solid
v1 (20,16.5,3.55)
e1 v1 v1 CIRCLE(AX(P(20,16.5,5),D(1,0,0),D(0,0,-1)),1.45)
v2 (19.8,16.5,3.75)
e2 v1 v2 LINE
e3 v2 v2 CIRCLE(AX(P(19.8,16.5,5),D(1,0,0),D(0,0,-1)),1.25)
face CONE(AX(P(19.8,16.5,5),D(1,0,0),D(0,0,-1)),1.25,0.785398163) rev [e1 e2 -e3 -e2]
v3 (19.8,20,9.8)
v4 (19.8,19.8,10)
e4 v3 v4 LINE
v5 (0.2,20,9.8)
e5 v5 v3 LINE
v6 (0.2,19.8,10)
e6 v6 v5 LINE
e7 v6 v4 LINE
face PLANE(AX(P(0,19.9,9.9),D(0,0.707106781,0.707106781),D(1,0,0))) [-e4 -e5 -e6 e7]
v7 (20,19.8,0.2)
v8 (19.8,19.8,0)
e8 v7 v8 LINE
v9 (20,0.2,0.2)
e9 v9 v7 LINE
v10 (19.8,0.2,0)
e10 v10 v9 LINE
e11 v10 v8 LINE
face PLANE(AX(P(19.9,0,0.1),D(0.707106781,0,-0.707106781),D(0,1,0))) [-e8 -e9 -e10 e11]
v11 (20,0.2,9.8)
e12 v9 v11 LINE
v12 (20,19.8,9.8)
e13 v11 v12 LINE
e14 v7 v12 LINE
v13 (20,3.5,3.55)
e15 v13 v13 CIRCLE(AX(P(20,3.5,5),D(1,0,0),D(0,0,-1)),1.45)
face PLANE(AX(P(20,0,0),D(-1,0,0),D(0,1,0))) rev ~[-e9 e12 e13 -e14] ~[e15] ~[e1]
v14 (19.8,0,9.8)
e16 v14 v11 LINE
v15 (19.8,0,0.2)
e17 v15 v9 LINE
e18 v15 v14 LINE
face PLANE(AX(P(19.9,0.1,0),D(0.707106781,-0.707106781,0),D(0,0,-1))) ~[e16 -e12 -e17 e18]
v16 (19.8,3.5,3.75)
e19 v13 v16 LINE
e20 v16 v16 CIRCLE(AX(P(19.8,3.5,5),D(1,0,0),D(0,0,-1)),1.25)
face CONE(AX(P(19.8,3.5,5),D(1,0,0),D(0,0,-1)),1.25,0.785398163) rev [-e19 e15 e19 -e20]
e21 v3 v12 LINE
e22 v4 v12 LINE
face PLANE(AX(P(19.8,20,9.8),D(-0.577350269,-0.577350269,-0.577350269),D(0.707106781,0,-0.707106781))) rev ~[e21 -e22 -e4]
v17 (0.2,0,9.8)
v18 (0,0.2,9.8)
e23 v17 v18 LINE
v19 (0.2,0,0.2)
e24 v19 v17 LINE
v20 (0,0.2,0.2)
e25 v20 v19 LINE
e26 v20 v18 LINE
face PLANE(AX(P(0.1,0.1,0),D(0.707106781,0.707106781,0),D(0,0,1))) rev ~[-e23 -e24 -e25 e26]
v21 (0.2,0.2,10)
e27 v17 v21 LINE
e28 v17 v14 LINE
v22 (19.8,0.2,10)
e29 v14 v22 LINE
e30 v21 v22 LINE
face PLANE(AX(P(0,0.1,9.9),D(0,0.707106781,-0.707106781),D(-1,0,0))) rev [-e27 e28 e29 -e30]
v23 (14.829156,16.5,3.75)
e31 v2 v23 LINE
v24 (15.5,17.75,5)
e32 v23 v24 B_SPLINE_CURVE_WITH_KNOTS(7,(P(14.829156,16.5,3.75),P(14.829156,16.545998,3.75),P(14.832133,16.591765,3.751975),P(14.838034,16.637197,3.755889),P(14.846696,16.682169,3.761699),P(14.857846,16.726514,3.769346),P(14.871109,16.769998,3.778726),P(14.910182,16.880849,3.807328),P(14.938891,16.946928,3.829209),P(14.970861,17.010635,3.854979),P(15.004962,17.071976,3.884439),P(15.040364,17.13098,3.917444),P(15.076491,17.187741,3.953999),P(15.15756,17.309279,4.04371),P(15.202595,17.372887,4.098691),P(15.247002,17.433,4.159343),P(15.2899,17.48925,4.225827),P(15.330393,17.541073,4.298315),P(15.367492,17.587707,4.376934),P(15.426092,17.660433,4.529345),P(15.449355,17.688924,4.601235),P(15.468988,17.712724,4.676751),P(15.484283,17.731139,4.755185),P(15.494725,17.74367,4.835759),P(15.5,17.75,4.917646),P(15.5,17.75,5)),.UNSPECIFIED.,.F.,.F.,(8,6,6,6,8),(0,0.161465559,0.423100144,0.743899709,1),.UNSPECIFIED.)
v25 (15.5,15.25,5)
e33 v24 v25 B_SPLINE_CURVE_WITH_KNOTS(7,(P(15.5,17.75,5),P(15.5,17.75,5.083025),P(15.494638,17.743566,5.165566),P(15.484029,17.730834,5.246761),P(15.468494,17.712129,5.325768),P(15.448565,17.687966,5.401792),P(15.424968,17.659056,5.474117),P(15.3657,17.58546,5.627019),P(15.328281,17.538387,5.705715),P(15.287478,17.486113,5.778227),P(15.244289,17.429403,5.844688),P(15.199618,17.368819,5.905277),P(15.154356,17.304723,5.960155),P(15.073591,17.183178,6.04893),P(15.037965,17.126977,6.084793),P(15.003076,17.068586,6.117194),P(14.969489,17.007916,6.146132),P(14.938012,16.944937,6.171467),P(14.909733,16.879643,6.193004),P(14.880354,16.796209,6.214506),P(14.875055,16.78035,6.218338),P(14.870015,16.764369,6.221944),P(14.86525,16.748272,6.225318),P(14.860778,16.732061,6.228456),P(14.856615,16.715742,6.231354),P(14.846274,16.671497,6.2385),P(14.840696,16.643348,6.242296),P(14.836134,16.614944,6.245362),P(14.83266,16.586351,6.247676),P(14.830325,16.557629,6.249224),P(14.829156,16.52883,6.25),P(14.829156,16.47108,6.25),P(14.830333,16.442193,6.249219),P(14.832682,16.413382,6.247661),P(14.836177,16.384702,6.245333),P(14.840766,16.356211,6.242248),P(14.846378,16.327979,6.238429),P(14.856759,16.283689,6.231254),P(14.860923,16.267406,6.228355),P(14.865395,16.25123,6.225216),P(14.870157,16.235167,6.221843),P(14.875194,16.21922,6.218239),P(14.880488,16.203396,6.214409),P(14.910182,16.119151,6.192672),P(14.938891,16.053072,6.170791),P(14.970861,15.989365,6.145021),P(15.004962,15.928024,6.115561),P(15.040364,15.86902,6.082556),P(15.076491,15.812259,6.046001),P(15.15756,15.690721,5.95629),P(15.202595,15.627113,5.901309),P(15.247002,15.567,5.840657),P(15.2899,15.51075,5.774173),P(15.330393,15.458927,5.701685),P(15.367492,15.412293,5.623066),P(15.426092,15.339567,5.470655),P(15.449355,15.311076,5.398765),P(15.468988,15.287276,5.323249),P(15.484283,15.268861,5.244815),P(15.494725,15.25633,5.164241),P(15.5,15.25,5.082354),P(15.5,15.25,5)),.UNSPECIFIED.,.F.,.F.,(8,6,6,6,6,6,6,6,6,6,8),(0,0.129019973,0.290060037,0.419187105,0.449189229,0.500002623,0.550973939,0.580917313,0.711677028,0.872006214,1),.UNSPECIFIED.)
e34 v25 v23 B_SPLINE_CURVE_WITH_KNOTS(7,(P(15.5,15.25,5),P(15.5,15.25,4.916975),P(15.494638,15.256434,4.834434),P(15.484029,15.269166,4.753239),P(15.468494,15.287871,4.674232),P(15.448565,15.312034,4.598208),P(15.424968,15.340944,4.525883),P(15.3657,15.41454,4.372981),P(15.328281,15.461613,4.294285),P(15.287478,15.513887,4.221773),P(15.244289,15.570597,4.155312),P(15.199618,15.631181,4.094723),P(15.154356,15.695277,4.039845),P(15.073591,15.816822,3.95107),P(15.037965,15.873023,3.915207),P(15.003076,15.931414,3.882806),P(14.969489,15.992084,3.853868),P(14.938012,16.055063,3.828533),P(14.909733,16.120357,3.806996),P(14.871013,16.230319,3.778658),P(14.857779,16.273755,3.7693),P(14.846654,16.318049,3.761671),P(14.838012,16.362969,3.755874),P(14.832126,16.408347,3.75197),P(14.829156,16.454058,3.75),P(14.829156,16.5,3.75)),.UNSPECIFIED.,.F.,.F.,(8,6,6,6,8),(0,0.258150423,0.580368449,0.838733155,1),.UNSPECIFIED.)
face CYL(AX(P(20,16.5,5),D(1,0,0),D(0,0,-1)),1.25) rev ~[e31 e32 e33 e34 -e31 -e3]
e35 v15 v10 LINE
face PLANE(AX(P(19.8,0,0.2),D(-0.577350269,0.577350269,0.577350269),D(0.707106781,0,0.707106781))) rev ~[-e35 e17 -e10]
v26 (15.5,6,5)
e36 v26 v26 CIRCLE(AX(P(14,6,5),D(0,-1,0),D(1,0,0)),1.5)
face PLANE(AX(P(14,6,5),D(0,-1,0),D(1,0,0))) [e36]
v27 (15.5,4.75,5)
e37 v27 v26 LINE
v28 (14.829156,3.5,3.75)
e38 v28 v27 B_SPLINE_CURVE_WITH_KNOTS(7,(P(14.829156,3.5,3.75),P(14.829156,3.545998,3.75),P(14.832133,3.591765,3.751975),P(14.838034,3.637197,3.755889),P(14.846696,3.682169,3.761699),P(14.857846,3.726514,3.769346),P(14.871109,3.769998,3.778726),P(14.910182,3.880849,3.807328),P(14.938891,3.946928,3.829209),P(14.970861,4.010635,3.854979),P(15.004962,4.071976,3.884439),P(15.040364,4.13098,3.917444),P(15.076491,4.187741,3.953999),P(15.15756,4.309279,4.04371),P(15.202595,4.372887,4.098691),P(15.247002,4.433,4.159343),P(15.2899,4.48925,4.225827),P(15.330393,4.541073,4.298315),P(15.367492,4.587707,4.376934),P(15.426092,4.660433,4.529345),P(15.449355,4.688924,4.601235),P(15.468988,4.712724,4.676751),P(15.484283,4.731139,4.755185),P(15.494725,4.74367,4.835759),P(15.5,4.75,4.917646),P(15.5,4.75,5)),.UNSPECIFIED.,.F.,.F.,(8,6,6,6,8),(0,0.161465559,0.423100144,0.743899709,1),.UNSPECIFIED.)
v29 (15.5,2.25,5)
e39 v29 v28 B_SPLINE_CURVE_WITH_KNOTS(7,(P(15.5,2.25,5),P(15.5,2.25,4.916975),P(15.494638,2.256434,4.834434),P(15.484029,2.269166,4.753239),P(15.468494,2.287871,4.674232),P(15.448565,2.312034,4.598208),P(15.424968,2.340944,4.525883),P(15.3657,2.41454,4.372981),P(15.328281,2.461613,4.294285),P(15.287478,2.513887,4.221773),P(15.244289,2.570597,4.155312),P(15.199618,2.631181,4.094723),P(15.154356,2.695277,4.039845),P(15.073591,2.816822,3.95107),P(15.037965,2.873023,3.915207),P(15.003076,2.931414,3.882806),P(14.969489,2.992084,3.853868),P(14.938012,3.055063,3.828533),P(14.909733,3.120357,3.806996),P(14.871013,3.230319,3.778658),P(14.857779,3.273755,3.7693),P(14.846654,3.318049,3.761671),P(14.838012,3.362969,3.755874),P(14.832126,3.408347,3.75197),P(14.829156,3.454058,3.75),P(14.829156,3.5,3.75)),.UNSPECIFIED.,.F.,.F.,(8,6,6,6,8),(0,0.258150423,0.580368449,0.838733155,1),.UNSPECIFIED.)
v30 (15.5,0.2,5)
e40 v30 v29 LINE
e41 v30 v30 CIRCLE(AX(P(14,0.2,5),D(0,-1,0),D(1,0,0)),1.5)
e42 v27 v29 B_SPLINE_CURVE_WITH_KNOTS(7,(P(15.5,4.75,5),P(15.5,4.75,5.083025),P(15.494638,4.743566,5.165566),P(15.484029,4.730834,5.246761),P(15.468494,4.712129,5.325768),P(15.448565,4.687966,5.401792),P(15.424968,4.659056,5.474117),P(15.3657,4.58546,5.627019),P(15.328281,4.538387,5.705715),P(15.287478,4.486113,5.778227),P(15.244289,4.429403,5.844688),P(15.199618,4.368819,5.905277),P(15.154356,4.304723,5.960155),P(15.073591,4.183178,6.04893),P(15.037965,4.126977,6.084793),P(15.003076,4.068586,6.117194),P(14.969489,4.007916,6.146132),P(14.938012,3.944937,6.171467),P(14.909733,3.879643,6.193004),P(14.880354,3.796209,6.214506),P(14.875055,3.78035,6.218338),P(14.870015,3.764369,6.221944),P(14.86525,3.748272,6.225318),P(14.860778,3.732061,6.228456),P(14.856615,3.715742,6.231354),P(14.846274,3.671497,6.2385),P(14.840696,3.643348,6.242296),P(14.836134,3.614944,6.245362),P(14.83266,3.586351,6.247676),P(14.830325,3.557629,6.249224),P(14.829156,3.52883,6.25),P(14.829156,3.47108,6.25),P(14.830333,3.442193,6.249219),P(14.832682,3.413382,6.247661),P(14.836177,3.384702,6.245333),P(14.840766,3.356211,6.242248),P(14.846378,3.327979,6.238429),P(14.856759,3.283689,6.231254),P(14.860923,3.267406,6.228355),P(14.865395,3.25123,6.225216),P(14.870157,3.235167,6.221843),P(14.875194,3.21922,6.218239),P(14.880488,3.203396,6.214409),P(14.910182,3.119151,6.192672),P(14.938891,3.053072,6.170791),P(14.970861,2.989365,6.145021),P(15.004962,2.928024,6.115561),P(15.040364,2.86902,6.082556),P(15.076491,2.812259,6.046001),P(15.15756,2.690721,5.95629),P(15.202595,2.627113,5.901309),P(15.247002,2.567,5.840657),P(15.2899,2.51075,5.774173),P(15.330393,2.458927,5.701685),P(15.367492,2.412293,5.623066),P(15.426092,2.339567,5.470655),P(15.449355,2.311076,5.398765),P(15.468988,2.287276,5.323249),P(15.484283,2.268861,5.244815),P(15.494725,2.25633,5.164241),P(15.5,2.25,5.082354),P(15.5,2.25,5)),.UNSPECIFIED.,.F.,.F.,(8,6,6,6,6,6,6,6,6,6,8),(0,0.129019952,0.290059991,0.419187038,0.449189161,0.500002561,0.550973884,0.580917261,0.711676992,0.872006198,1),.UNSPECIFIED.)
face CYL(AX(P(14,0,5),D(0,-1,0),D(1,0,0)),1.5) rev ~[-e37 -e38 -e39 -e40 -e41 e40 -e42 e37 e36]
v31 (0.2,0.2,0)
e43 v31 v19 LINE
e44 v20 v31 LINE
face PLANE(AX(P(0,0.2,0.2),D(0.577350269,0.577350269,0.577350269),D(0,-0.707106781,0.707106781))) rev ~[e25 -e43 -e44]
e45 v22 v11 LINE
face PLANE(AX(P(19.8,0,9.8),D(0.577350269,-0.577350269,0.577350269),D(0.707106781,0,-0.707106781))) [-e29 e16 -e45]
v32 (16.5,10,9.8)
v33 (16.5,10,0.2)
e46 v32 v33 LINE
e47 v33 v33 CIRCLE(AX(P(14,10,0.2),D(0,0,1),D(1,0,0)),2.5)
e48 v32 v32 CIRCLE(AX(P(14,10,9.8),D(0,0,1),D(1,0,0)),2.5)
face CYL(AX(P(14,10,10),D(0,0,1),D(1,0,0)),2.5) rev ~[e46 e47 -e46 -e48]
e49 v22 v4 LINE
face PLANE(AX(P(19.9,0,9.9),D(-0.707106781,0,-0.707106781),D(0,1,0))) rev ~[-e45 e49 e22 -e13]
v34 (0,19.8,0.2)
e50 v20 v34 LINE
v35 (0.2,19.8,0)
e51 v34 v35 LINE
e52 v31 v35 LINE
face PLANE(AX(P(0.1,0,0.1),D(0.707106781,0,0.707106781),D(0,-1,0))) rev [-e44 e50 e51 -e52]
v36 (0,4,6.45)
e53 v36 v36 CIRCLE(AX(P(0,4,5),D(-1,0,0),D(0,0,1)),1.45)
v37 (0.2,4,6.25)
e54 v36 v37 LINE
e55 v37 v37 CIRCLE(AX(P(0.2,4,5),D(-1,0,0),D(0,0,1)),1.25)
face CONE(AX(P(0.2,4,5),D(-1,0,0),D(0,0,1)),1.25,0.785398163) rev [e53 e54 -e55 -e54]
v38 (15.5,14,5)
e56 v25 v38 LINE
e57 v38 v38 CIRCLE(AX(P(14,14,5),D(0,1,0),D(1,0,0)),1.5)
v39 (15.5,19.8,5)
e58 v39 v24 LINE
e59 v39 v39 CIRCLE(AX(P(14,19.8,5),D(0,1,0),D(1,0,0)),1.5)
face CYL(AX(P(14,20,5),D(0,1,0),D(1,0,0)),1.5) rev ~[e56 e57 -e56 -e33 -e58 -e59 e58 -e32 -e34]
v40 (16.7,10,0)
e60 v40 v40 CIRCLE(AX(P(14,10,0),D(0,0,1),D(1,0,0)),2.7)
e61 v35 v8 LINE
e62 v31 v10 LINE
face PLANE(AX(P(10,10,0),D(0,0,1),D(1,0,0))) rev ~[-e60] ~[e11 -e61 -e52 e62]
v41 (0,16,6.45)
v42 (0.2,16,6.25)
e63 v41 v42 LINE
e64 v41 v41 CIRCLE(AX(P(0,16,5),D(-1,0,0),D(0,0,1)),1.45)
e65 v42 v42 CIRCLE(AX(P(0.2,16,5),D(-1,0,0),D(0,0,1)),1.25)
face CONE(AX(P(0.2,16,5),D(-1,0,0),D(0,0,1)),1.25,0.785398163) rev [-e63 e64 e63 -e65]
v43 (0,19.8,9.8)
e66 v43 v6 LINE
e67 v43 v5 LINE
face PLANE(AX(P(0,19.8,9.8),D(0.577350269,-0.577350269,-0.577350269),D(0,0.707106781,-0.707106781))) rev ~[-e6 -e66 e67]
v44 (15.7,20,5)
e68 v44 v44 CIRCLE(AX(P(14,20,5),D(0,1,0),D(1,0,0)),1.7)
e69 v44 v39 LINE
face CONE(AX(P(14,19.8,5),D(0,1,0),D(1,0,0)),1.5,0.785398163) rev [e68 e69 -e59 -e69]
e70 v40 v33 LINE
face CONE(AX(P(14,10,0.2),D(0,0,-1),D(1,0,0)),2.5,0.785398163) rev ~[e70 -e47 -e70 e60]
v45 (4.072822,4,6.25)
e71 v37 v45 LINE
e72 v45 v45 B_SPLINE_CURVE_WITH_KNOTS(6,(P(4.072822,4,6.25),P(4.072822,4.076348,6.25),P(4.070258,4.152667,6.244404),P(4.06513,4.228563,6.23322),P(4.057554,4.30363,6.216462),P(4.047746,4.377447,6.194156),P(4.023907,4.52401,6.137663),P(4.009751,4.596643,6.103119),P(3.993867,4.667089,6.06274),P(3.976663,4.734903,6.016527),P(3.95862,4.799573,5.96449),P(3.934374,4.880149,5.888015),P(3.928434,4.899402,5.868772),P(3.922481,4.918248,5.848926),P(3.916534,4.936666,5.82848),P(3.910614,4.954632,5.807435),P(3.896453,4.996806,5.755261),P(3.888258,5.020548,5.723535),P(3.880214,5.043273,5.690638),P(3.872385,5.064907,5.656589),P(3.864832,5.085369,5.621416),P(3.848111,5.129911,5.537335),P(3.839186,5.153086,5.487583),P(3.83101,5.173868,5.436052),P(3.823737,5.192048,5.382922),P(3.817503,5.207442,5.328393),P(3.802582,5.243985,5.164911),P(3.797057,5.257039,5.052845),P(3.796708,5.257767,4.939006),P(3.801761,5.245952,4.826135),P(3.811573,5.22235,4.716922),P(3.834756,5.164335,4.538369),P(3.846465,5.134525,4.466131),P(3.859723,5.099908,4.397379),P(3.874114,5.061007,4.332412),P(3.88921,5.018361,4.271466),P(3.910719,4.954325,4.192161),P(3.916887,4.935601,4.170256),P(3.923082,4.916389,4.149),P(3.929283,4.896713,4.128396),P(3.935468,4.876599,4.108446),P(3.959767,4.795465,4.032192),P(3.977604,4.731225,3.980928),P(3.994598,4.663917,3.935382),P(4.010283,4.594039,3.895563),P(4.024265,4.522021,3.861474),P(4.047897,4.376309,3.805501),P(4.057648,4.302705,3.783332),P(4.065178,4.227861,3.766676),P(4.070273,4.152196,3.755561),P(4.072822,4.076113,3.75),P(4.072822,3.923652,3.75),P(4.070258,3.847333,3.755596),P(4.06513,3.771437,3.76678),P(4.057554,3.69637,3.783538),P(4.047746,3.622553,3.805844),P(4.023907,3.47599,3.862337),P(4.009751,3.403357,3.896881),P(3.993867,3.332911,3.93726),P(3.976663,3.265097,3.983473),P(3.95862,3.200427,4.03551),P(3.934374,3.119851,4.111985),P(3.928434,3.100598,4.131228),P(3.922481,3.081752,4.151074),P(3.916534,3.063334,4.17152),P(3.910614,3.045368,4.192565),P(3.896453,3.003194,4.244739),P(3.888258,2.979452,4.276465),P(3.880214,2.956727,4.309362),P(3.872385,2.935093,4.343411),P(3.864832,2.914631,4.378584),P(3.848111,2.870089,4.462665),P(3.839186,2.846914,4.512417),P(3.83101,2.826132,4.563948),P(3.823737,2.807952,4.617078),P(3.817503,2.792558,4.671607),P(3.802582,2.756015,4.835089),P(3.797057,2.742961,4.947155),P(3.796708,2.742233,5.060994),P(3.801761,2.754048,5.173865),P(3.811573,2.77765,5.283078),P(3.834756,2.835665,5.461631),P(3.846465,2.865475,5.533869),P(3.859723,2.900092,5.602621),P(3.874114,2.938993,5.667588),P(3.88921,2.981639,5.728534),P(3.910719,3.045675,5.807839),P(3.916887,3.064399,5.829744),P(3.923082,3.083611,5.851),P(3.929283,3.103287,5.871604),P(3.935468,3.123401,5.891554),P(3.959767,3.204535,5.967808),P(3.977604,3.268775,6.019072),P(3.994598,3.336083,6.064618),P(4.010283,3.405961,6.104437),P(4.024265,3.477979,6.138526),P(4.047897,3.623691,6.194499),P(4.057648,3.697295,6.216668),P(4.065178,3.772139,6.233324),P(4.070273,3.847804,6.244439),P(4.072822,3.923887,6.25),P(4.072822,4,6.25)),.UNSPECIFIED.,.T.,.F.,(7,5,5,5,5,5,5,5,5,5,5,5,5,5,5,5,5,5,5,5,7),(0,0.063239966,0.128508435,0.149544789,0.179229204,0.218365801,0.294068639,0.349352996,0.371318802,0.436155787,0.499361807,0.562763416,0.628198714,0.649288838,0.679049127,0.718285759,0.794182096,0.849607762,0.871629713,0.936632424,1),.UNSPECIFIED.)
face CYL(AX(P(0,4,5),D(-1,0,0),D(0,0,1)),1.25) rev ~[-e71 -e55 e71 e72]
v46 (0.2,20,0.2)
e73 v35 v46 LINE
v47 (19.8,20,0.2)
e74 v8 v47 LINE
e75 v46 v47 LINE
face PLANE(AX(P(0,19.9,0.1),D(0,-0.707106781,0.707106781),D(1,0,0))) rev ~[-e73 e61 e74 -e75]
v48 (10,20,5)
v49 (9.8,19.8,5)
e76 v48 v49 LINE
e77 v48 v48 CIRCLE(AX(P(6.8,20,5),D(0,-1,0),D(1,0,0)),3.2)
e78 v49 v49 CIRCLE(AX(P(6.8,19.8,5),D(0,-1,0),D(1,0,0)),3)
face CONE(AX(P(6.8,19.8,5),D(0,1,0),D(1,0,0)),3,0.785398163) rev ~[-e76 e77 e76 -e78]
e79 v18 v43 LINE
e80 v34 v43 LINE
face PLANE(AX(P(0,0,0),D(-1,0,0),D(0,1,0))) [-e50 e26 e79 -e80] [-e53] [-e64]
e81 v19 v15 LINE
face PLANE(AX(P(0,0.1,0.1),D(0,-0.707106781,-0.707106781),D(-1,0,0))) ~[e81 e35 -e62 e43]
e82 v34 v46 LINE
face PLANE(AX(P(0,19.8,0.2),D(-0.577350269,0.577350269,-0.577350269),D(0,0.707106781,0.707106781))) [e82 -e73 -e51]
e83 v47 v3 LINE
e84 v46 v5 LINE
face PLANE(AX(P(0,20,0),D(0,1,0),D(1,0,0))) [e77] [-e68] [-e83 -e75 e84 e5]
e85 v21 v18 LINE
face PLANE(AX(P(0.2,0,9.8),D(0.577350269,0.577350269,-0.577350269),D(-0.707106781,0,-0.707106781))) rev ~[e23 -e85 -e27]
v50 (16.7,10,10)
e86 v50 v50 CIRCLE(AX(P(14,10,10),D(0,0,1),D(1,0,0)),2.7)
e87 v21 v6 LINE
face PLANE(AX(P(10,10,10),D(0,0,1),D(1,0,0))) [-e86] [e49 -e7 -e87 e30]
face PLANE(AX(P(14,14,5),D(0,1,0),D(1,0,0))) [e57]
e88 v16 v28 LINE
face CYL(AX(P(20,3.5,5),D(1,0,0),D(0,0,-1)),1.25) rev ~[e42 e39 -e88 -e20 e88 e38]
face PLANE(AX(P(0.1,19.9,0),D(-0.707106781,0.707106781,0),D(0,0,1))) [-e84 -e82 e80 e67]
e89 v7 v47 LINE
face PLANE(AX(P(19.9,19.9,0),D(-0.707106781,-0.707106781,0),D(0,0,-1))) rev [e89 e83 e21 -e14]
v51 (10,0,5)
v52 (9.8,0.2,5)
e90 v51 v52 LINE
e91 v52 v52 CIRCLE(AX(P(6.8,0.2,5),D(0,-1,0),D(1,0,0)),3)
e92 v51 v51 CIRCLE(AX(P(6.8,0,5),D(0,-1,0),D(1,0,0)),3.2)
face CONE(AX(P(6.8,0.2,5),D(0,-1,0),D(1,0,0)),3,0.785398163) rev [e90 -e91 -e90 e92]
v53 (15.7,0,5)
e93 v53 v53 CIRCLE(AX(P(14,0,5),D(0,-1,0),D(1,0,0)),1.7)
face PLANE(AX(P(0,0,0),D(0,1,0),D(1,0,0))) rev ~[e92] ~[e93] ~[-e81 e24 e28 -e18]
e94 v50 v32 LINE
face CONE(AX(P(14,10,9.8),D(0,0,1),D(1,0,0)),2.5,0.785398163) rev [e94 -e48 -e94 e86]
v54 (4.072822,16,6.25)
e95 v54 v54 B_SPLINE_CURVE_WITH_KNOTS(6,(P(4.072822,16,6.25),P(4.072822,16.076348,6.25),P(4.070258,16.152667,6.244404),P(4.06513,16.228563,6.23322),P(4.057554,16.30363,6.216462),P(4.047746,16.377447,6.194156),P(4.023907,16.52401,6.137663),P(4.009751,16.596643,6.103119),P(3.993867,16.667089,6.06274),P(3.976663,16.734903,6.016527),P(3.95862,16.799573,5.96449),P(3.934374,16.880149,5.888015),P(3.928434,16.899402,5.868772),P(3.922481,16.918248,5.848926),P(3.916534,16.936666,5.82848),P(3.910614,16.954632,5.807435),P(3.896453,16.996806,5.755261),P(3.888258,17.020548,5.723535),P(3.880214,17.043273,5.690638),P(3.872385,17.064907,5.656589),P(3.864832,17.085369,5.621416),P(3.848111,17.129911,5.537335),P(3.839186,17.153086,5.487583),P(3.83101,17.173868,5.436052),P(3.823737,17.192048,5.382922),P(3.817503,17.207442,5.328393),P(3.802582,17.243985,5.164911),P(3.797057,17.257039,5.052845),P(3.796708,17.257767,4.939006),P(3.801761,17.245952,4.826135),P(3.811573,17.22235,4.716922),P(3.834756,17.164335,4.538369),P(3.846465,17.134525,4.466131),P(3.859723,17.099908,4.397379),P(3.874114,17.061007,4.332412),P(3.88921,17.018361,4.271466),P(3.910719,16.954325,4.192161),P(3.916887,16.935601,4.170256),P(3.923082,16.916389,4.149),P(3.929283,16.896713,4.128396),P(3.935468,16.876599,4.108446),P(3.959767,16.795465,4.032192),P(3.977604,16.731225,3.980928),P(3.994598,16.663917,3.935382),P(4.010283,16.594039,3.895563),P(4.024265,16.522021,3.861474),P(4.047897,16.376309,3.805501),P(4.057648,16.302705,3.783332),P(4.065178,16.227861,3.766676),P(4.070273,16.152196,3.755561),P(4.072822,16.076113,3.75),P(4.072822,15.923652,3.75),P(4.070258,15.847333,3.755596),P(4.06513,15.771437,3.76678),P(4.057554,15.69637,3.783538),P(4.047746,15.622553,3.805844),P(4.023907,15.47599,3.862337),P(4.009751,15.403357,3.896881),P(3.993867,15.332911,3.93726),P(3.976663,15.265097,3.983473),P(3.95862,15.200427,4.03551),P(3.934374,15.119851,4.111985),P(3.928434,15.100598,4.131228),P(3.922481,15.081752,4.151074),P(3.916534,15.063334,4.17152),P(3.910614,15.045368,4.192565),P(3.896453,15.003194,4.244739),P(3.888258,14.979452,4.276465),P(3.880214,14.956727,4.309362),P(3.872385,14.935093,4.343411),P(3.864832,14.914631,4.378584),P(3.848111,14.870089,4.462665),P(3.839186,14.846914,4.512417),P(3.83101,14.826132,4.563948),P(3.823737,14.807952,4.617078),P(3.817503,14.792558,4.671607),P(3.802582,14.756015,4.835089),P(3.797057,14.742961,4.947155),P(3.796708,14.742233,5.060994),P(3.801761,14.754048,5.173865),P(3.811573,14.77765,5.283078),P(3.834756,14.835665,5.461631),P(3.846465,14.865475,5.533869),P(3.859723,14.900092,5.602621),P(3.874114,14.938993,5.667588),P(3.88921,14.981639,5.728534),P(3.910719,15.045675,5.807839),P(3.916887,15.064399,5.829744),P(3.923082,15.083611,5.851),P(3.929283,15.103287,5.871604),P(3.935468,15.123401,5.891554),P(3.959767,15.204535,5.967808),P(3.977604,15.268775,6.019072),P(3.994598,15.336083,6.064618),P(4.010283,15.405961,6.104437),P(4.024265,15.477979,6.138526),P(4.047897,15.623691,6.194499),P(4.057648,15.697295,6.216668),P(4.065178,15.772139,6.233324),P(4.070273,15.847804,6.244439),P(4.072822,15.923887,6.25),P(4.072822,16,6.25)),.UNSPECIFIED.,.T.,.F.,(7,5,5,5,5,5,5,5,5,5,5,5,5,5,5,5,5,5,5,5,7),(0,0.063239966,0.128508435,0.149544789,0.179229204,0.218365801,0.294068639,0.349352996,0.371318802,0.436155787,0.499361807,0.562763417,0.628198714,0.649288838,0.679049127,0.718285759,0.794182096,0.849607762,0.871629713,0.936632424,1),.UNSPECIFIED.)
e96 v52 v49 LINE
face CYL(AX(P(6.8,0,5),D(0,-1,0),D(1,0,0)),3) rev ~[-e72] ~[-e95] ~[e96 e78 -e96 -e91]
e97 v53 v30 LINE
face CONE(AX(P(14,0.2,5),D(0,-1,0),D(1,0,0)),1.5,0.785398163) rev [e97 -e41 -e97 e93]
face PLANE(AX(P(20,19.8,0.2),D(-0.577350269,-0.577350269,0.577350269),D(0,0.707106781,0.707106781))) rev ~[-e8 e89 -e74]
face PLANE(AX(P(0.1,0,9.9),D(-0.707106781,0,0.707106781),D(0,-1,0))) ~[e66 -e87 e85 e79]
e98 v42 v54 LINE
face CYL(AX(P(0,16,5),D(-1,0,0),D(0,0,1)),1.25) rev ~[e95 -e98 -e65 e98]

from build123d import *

# Parameters (mm, degrees)
SKETCH_1_W          = 20
SKETCH_1_H          = 20
EXTRUDE_1_DEPTH     = 10
SKETCH_2_R          = 2.5
CUT_EXTRUDE_1_DEPTH = 10
SKETCH_3_R          = 3
CUT_EXTRUDE_2_DEPTH = 20
SKETCH_4_R          = 1.25
CUT_EXTRUDE_3_DEPTH = 6.7
SKETCH_5_R          = 1.5
CUT_EXTRUDE_4_DEPTH = 6
SKETCH_6_R          = 1.5
CUT_EXTRUDE_5_DEPTH = 6
SKETCH_7_R          = 1.25
CUT_EXTRUDE_6_DEPTH = 6
CHAMFER_1_SIZE      = 0.2


with BuildPart() as part:
    # Эскиз1 → Бобышка-Вытянуть1 (new body)
    with BuildSketch(Plane.XY):
        with Locations((10, 10)):
            Rectangle(SKETCH_1_W, SKETCH_1_H)
    extrude(amount=EXTRUDE_1_DEPTH)

    # Эскиз2 → Вырез-Вытянуть1 (cut)
    with BuildSketch(Plane.XY.offset(10)):
        with Locations((14, 10)):
            Circle(SKETCH_2_R)
    extrude(amount=-CUT_EXTRUDE_1_DEPTH, mode=Mode.SUBTRACT)

    # Эскиз3 → Вырез-Вытянуть2 (cut)
    with BuildSketch(Plane.XZ):
        with Locations((6.8, 5)):
            Circle(SKETCH_3_R)
    extrude(amount=-CUT_EXTRUDE_2_DEPTH, mode=Mode.SUBTRACT)

    # Эскиз4 → Вырез-Вытянуть3 (cut)
    with BuildSketch(Plane.ZY):
        with Locations((5, 16)):
            Circle(SKETCH_4_R)
        with Locations((5, 4)):
            Circle(SKETCH_4_R)
    extrude(amount=-CUT_EXTRUDE_3_DEPTH, mode=Mode.SUBTRACT)

    # Эскиз5 → Вырез-Вытянуть4 (cut)
    with BuildSketch(Plane.XZ):
        with Locations((14, 5)):
            Circle(SKETCH_5_R)
    extrude(amount=-CUT_EXTRUDE_4_DEPTH, mode=Mode.SUBTRACT)

    # Эскиз6 → Вырез-Вытянуть5 (cut)
    with BuildSketch(Plane(origin=(0, 20, 0), x_dir=(1, 0, 0), z_dir=(0, 1, 0))):
        with Locations((14, -5)):
            Circle(SKETCH_6_R)
    extrude(amount=-CUT_EXTRUDE_5_DEPTH, mode=Mode.SUBTRACT)

    # Эскиз7 → Вырез-Вытянуть6 (cut)
    with BuildSketch(Plane(origin=(20, 0, 0), x_dir=(0, 0, -1), z_dir=(1, 0, 0))):
        with Locations((-5, 3.5)):
            Circle(SKETCH_7_R)
        with Locations((-5, 16.5)):
            Circle(SKETCH_7_R)
    extrude(amount=-CUT_EXTRUDE_6_DEPTH, mode=Mode.SUBTRACT)

    # Фаска1
    chamfer_1_edges = [part.edges().sort_by_distance(p)[0] for p in [
        (20, 10, 10),
        (10, 20, 10),
        (11.5, 10, 0),
        (11.5, 10, 10),
        (3.8, 20, 5),
        (3.8, 0, 5),
        (0, 16, 3.75),
        (0, 4, 3.75),
        (12.5, 0, 5),
        (12.5, 20, 5),
        (0, 10, 10),
        (20, 3.5, 6.25),
        (10, 20, 0),
        (20, 10, 0),
        (20, 16.5, 6.25),
        (10, 0, 0),
        (0, 10, 0),
        (10, 0, 10),
        (0, 20, 5),
        (20, 20, 5),
        (20, 0, 5),
        (0, 0, 5),
    ]]
    chamfer(chamfer_1_edges, length=CHAMFER_1_SIZE)


solid = part.part
